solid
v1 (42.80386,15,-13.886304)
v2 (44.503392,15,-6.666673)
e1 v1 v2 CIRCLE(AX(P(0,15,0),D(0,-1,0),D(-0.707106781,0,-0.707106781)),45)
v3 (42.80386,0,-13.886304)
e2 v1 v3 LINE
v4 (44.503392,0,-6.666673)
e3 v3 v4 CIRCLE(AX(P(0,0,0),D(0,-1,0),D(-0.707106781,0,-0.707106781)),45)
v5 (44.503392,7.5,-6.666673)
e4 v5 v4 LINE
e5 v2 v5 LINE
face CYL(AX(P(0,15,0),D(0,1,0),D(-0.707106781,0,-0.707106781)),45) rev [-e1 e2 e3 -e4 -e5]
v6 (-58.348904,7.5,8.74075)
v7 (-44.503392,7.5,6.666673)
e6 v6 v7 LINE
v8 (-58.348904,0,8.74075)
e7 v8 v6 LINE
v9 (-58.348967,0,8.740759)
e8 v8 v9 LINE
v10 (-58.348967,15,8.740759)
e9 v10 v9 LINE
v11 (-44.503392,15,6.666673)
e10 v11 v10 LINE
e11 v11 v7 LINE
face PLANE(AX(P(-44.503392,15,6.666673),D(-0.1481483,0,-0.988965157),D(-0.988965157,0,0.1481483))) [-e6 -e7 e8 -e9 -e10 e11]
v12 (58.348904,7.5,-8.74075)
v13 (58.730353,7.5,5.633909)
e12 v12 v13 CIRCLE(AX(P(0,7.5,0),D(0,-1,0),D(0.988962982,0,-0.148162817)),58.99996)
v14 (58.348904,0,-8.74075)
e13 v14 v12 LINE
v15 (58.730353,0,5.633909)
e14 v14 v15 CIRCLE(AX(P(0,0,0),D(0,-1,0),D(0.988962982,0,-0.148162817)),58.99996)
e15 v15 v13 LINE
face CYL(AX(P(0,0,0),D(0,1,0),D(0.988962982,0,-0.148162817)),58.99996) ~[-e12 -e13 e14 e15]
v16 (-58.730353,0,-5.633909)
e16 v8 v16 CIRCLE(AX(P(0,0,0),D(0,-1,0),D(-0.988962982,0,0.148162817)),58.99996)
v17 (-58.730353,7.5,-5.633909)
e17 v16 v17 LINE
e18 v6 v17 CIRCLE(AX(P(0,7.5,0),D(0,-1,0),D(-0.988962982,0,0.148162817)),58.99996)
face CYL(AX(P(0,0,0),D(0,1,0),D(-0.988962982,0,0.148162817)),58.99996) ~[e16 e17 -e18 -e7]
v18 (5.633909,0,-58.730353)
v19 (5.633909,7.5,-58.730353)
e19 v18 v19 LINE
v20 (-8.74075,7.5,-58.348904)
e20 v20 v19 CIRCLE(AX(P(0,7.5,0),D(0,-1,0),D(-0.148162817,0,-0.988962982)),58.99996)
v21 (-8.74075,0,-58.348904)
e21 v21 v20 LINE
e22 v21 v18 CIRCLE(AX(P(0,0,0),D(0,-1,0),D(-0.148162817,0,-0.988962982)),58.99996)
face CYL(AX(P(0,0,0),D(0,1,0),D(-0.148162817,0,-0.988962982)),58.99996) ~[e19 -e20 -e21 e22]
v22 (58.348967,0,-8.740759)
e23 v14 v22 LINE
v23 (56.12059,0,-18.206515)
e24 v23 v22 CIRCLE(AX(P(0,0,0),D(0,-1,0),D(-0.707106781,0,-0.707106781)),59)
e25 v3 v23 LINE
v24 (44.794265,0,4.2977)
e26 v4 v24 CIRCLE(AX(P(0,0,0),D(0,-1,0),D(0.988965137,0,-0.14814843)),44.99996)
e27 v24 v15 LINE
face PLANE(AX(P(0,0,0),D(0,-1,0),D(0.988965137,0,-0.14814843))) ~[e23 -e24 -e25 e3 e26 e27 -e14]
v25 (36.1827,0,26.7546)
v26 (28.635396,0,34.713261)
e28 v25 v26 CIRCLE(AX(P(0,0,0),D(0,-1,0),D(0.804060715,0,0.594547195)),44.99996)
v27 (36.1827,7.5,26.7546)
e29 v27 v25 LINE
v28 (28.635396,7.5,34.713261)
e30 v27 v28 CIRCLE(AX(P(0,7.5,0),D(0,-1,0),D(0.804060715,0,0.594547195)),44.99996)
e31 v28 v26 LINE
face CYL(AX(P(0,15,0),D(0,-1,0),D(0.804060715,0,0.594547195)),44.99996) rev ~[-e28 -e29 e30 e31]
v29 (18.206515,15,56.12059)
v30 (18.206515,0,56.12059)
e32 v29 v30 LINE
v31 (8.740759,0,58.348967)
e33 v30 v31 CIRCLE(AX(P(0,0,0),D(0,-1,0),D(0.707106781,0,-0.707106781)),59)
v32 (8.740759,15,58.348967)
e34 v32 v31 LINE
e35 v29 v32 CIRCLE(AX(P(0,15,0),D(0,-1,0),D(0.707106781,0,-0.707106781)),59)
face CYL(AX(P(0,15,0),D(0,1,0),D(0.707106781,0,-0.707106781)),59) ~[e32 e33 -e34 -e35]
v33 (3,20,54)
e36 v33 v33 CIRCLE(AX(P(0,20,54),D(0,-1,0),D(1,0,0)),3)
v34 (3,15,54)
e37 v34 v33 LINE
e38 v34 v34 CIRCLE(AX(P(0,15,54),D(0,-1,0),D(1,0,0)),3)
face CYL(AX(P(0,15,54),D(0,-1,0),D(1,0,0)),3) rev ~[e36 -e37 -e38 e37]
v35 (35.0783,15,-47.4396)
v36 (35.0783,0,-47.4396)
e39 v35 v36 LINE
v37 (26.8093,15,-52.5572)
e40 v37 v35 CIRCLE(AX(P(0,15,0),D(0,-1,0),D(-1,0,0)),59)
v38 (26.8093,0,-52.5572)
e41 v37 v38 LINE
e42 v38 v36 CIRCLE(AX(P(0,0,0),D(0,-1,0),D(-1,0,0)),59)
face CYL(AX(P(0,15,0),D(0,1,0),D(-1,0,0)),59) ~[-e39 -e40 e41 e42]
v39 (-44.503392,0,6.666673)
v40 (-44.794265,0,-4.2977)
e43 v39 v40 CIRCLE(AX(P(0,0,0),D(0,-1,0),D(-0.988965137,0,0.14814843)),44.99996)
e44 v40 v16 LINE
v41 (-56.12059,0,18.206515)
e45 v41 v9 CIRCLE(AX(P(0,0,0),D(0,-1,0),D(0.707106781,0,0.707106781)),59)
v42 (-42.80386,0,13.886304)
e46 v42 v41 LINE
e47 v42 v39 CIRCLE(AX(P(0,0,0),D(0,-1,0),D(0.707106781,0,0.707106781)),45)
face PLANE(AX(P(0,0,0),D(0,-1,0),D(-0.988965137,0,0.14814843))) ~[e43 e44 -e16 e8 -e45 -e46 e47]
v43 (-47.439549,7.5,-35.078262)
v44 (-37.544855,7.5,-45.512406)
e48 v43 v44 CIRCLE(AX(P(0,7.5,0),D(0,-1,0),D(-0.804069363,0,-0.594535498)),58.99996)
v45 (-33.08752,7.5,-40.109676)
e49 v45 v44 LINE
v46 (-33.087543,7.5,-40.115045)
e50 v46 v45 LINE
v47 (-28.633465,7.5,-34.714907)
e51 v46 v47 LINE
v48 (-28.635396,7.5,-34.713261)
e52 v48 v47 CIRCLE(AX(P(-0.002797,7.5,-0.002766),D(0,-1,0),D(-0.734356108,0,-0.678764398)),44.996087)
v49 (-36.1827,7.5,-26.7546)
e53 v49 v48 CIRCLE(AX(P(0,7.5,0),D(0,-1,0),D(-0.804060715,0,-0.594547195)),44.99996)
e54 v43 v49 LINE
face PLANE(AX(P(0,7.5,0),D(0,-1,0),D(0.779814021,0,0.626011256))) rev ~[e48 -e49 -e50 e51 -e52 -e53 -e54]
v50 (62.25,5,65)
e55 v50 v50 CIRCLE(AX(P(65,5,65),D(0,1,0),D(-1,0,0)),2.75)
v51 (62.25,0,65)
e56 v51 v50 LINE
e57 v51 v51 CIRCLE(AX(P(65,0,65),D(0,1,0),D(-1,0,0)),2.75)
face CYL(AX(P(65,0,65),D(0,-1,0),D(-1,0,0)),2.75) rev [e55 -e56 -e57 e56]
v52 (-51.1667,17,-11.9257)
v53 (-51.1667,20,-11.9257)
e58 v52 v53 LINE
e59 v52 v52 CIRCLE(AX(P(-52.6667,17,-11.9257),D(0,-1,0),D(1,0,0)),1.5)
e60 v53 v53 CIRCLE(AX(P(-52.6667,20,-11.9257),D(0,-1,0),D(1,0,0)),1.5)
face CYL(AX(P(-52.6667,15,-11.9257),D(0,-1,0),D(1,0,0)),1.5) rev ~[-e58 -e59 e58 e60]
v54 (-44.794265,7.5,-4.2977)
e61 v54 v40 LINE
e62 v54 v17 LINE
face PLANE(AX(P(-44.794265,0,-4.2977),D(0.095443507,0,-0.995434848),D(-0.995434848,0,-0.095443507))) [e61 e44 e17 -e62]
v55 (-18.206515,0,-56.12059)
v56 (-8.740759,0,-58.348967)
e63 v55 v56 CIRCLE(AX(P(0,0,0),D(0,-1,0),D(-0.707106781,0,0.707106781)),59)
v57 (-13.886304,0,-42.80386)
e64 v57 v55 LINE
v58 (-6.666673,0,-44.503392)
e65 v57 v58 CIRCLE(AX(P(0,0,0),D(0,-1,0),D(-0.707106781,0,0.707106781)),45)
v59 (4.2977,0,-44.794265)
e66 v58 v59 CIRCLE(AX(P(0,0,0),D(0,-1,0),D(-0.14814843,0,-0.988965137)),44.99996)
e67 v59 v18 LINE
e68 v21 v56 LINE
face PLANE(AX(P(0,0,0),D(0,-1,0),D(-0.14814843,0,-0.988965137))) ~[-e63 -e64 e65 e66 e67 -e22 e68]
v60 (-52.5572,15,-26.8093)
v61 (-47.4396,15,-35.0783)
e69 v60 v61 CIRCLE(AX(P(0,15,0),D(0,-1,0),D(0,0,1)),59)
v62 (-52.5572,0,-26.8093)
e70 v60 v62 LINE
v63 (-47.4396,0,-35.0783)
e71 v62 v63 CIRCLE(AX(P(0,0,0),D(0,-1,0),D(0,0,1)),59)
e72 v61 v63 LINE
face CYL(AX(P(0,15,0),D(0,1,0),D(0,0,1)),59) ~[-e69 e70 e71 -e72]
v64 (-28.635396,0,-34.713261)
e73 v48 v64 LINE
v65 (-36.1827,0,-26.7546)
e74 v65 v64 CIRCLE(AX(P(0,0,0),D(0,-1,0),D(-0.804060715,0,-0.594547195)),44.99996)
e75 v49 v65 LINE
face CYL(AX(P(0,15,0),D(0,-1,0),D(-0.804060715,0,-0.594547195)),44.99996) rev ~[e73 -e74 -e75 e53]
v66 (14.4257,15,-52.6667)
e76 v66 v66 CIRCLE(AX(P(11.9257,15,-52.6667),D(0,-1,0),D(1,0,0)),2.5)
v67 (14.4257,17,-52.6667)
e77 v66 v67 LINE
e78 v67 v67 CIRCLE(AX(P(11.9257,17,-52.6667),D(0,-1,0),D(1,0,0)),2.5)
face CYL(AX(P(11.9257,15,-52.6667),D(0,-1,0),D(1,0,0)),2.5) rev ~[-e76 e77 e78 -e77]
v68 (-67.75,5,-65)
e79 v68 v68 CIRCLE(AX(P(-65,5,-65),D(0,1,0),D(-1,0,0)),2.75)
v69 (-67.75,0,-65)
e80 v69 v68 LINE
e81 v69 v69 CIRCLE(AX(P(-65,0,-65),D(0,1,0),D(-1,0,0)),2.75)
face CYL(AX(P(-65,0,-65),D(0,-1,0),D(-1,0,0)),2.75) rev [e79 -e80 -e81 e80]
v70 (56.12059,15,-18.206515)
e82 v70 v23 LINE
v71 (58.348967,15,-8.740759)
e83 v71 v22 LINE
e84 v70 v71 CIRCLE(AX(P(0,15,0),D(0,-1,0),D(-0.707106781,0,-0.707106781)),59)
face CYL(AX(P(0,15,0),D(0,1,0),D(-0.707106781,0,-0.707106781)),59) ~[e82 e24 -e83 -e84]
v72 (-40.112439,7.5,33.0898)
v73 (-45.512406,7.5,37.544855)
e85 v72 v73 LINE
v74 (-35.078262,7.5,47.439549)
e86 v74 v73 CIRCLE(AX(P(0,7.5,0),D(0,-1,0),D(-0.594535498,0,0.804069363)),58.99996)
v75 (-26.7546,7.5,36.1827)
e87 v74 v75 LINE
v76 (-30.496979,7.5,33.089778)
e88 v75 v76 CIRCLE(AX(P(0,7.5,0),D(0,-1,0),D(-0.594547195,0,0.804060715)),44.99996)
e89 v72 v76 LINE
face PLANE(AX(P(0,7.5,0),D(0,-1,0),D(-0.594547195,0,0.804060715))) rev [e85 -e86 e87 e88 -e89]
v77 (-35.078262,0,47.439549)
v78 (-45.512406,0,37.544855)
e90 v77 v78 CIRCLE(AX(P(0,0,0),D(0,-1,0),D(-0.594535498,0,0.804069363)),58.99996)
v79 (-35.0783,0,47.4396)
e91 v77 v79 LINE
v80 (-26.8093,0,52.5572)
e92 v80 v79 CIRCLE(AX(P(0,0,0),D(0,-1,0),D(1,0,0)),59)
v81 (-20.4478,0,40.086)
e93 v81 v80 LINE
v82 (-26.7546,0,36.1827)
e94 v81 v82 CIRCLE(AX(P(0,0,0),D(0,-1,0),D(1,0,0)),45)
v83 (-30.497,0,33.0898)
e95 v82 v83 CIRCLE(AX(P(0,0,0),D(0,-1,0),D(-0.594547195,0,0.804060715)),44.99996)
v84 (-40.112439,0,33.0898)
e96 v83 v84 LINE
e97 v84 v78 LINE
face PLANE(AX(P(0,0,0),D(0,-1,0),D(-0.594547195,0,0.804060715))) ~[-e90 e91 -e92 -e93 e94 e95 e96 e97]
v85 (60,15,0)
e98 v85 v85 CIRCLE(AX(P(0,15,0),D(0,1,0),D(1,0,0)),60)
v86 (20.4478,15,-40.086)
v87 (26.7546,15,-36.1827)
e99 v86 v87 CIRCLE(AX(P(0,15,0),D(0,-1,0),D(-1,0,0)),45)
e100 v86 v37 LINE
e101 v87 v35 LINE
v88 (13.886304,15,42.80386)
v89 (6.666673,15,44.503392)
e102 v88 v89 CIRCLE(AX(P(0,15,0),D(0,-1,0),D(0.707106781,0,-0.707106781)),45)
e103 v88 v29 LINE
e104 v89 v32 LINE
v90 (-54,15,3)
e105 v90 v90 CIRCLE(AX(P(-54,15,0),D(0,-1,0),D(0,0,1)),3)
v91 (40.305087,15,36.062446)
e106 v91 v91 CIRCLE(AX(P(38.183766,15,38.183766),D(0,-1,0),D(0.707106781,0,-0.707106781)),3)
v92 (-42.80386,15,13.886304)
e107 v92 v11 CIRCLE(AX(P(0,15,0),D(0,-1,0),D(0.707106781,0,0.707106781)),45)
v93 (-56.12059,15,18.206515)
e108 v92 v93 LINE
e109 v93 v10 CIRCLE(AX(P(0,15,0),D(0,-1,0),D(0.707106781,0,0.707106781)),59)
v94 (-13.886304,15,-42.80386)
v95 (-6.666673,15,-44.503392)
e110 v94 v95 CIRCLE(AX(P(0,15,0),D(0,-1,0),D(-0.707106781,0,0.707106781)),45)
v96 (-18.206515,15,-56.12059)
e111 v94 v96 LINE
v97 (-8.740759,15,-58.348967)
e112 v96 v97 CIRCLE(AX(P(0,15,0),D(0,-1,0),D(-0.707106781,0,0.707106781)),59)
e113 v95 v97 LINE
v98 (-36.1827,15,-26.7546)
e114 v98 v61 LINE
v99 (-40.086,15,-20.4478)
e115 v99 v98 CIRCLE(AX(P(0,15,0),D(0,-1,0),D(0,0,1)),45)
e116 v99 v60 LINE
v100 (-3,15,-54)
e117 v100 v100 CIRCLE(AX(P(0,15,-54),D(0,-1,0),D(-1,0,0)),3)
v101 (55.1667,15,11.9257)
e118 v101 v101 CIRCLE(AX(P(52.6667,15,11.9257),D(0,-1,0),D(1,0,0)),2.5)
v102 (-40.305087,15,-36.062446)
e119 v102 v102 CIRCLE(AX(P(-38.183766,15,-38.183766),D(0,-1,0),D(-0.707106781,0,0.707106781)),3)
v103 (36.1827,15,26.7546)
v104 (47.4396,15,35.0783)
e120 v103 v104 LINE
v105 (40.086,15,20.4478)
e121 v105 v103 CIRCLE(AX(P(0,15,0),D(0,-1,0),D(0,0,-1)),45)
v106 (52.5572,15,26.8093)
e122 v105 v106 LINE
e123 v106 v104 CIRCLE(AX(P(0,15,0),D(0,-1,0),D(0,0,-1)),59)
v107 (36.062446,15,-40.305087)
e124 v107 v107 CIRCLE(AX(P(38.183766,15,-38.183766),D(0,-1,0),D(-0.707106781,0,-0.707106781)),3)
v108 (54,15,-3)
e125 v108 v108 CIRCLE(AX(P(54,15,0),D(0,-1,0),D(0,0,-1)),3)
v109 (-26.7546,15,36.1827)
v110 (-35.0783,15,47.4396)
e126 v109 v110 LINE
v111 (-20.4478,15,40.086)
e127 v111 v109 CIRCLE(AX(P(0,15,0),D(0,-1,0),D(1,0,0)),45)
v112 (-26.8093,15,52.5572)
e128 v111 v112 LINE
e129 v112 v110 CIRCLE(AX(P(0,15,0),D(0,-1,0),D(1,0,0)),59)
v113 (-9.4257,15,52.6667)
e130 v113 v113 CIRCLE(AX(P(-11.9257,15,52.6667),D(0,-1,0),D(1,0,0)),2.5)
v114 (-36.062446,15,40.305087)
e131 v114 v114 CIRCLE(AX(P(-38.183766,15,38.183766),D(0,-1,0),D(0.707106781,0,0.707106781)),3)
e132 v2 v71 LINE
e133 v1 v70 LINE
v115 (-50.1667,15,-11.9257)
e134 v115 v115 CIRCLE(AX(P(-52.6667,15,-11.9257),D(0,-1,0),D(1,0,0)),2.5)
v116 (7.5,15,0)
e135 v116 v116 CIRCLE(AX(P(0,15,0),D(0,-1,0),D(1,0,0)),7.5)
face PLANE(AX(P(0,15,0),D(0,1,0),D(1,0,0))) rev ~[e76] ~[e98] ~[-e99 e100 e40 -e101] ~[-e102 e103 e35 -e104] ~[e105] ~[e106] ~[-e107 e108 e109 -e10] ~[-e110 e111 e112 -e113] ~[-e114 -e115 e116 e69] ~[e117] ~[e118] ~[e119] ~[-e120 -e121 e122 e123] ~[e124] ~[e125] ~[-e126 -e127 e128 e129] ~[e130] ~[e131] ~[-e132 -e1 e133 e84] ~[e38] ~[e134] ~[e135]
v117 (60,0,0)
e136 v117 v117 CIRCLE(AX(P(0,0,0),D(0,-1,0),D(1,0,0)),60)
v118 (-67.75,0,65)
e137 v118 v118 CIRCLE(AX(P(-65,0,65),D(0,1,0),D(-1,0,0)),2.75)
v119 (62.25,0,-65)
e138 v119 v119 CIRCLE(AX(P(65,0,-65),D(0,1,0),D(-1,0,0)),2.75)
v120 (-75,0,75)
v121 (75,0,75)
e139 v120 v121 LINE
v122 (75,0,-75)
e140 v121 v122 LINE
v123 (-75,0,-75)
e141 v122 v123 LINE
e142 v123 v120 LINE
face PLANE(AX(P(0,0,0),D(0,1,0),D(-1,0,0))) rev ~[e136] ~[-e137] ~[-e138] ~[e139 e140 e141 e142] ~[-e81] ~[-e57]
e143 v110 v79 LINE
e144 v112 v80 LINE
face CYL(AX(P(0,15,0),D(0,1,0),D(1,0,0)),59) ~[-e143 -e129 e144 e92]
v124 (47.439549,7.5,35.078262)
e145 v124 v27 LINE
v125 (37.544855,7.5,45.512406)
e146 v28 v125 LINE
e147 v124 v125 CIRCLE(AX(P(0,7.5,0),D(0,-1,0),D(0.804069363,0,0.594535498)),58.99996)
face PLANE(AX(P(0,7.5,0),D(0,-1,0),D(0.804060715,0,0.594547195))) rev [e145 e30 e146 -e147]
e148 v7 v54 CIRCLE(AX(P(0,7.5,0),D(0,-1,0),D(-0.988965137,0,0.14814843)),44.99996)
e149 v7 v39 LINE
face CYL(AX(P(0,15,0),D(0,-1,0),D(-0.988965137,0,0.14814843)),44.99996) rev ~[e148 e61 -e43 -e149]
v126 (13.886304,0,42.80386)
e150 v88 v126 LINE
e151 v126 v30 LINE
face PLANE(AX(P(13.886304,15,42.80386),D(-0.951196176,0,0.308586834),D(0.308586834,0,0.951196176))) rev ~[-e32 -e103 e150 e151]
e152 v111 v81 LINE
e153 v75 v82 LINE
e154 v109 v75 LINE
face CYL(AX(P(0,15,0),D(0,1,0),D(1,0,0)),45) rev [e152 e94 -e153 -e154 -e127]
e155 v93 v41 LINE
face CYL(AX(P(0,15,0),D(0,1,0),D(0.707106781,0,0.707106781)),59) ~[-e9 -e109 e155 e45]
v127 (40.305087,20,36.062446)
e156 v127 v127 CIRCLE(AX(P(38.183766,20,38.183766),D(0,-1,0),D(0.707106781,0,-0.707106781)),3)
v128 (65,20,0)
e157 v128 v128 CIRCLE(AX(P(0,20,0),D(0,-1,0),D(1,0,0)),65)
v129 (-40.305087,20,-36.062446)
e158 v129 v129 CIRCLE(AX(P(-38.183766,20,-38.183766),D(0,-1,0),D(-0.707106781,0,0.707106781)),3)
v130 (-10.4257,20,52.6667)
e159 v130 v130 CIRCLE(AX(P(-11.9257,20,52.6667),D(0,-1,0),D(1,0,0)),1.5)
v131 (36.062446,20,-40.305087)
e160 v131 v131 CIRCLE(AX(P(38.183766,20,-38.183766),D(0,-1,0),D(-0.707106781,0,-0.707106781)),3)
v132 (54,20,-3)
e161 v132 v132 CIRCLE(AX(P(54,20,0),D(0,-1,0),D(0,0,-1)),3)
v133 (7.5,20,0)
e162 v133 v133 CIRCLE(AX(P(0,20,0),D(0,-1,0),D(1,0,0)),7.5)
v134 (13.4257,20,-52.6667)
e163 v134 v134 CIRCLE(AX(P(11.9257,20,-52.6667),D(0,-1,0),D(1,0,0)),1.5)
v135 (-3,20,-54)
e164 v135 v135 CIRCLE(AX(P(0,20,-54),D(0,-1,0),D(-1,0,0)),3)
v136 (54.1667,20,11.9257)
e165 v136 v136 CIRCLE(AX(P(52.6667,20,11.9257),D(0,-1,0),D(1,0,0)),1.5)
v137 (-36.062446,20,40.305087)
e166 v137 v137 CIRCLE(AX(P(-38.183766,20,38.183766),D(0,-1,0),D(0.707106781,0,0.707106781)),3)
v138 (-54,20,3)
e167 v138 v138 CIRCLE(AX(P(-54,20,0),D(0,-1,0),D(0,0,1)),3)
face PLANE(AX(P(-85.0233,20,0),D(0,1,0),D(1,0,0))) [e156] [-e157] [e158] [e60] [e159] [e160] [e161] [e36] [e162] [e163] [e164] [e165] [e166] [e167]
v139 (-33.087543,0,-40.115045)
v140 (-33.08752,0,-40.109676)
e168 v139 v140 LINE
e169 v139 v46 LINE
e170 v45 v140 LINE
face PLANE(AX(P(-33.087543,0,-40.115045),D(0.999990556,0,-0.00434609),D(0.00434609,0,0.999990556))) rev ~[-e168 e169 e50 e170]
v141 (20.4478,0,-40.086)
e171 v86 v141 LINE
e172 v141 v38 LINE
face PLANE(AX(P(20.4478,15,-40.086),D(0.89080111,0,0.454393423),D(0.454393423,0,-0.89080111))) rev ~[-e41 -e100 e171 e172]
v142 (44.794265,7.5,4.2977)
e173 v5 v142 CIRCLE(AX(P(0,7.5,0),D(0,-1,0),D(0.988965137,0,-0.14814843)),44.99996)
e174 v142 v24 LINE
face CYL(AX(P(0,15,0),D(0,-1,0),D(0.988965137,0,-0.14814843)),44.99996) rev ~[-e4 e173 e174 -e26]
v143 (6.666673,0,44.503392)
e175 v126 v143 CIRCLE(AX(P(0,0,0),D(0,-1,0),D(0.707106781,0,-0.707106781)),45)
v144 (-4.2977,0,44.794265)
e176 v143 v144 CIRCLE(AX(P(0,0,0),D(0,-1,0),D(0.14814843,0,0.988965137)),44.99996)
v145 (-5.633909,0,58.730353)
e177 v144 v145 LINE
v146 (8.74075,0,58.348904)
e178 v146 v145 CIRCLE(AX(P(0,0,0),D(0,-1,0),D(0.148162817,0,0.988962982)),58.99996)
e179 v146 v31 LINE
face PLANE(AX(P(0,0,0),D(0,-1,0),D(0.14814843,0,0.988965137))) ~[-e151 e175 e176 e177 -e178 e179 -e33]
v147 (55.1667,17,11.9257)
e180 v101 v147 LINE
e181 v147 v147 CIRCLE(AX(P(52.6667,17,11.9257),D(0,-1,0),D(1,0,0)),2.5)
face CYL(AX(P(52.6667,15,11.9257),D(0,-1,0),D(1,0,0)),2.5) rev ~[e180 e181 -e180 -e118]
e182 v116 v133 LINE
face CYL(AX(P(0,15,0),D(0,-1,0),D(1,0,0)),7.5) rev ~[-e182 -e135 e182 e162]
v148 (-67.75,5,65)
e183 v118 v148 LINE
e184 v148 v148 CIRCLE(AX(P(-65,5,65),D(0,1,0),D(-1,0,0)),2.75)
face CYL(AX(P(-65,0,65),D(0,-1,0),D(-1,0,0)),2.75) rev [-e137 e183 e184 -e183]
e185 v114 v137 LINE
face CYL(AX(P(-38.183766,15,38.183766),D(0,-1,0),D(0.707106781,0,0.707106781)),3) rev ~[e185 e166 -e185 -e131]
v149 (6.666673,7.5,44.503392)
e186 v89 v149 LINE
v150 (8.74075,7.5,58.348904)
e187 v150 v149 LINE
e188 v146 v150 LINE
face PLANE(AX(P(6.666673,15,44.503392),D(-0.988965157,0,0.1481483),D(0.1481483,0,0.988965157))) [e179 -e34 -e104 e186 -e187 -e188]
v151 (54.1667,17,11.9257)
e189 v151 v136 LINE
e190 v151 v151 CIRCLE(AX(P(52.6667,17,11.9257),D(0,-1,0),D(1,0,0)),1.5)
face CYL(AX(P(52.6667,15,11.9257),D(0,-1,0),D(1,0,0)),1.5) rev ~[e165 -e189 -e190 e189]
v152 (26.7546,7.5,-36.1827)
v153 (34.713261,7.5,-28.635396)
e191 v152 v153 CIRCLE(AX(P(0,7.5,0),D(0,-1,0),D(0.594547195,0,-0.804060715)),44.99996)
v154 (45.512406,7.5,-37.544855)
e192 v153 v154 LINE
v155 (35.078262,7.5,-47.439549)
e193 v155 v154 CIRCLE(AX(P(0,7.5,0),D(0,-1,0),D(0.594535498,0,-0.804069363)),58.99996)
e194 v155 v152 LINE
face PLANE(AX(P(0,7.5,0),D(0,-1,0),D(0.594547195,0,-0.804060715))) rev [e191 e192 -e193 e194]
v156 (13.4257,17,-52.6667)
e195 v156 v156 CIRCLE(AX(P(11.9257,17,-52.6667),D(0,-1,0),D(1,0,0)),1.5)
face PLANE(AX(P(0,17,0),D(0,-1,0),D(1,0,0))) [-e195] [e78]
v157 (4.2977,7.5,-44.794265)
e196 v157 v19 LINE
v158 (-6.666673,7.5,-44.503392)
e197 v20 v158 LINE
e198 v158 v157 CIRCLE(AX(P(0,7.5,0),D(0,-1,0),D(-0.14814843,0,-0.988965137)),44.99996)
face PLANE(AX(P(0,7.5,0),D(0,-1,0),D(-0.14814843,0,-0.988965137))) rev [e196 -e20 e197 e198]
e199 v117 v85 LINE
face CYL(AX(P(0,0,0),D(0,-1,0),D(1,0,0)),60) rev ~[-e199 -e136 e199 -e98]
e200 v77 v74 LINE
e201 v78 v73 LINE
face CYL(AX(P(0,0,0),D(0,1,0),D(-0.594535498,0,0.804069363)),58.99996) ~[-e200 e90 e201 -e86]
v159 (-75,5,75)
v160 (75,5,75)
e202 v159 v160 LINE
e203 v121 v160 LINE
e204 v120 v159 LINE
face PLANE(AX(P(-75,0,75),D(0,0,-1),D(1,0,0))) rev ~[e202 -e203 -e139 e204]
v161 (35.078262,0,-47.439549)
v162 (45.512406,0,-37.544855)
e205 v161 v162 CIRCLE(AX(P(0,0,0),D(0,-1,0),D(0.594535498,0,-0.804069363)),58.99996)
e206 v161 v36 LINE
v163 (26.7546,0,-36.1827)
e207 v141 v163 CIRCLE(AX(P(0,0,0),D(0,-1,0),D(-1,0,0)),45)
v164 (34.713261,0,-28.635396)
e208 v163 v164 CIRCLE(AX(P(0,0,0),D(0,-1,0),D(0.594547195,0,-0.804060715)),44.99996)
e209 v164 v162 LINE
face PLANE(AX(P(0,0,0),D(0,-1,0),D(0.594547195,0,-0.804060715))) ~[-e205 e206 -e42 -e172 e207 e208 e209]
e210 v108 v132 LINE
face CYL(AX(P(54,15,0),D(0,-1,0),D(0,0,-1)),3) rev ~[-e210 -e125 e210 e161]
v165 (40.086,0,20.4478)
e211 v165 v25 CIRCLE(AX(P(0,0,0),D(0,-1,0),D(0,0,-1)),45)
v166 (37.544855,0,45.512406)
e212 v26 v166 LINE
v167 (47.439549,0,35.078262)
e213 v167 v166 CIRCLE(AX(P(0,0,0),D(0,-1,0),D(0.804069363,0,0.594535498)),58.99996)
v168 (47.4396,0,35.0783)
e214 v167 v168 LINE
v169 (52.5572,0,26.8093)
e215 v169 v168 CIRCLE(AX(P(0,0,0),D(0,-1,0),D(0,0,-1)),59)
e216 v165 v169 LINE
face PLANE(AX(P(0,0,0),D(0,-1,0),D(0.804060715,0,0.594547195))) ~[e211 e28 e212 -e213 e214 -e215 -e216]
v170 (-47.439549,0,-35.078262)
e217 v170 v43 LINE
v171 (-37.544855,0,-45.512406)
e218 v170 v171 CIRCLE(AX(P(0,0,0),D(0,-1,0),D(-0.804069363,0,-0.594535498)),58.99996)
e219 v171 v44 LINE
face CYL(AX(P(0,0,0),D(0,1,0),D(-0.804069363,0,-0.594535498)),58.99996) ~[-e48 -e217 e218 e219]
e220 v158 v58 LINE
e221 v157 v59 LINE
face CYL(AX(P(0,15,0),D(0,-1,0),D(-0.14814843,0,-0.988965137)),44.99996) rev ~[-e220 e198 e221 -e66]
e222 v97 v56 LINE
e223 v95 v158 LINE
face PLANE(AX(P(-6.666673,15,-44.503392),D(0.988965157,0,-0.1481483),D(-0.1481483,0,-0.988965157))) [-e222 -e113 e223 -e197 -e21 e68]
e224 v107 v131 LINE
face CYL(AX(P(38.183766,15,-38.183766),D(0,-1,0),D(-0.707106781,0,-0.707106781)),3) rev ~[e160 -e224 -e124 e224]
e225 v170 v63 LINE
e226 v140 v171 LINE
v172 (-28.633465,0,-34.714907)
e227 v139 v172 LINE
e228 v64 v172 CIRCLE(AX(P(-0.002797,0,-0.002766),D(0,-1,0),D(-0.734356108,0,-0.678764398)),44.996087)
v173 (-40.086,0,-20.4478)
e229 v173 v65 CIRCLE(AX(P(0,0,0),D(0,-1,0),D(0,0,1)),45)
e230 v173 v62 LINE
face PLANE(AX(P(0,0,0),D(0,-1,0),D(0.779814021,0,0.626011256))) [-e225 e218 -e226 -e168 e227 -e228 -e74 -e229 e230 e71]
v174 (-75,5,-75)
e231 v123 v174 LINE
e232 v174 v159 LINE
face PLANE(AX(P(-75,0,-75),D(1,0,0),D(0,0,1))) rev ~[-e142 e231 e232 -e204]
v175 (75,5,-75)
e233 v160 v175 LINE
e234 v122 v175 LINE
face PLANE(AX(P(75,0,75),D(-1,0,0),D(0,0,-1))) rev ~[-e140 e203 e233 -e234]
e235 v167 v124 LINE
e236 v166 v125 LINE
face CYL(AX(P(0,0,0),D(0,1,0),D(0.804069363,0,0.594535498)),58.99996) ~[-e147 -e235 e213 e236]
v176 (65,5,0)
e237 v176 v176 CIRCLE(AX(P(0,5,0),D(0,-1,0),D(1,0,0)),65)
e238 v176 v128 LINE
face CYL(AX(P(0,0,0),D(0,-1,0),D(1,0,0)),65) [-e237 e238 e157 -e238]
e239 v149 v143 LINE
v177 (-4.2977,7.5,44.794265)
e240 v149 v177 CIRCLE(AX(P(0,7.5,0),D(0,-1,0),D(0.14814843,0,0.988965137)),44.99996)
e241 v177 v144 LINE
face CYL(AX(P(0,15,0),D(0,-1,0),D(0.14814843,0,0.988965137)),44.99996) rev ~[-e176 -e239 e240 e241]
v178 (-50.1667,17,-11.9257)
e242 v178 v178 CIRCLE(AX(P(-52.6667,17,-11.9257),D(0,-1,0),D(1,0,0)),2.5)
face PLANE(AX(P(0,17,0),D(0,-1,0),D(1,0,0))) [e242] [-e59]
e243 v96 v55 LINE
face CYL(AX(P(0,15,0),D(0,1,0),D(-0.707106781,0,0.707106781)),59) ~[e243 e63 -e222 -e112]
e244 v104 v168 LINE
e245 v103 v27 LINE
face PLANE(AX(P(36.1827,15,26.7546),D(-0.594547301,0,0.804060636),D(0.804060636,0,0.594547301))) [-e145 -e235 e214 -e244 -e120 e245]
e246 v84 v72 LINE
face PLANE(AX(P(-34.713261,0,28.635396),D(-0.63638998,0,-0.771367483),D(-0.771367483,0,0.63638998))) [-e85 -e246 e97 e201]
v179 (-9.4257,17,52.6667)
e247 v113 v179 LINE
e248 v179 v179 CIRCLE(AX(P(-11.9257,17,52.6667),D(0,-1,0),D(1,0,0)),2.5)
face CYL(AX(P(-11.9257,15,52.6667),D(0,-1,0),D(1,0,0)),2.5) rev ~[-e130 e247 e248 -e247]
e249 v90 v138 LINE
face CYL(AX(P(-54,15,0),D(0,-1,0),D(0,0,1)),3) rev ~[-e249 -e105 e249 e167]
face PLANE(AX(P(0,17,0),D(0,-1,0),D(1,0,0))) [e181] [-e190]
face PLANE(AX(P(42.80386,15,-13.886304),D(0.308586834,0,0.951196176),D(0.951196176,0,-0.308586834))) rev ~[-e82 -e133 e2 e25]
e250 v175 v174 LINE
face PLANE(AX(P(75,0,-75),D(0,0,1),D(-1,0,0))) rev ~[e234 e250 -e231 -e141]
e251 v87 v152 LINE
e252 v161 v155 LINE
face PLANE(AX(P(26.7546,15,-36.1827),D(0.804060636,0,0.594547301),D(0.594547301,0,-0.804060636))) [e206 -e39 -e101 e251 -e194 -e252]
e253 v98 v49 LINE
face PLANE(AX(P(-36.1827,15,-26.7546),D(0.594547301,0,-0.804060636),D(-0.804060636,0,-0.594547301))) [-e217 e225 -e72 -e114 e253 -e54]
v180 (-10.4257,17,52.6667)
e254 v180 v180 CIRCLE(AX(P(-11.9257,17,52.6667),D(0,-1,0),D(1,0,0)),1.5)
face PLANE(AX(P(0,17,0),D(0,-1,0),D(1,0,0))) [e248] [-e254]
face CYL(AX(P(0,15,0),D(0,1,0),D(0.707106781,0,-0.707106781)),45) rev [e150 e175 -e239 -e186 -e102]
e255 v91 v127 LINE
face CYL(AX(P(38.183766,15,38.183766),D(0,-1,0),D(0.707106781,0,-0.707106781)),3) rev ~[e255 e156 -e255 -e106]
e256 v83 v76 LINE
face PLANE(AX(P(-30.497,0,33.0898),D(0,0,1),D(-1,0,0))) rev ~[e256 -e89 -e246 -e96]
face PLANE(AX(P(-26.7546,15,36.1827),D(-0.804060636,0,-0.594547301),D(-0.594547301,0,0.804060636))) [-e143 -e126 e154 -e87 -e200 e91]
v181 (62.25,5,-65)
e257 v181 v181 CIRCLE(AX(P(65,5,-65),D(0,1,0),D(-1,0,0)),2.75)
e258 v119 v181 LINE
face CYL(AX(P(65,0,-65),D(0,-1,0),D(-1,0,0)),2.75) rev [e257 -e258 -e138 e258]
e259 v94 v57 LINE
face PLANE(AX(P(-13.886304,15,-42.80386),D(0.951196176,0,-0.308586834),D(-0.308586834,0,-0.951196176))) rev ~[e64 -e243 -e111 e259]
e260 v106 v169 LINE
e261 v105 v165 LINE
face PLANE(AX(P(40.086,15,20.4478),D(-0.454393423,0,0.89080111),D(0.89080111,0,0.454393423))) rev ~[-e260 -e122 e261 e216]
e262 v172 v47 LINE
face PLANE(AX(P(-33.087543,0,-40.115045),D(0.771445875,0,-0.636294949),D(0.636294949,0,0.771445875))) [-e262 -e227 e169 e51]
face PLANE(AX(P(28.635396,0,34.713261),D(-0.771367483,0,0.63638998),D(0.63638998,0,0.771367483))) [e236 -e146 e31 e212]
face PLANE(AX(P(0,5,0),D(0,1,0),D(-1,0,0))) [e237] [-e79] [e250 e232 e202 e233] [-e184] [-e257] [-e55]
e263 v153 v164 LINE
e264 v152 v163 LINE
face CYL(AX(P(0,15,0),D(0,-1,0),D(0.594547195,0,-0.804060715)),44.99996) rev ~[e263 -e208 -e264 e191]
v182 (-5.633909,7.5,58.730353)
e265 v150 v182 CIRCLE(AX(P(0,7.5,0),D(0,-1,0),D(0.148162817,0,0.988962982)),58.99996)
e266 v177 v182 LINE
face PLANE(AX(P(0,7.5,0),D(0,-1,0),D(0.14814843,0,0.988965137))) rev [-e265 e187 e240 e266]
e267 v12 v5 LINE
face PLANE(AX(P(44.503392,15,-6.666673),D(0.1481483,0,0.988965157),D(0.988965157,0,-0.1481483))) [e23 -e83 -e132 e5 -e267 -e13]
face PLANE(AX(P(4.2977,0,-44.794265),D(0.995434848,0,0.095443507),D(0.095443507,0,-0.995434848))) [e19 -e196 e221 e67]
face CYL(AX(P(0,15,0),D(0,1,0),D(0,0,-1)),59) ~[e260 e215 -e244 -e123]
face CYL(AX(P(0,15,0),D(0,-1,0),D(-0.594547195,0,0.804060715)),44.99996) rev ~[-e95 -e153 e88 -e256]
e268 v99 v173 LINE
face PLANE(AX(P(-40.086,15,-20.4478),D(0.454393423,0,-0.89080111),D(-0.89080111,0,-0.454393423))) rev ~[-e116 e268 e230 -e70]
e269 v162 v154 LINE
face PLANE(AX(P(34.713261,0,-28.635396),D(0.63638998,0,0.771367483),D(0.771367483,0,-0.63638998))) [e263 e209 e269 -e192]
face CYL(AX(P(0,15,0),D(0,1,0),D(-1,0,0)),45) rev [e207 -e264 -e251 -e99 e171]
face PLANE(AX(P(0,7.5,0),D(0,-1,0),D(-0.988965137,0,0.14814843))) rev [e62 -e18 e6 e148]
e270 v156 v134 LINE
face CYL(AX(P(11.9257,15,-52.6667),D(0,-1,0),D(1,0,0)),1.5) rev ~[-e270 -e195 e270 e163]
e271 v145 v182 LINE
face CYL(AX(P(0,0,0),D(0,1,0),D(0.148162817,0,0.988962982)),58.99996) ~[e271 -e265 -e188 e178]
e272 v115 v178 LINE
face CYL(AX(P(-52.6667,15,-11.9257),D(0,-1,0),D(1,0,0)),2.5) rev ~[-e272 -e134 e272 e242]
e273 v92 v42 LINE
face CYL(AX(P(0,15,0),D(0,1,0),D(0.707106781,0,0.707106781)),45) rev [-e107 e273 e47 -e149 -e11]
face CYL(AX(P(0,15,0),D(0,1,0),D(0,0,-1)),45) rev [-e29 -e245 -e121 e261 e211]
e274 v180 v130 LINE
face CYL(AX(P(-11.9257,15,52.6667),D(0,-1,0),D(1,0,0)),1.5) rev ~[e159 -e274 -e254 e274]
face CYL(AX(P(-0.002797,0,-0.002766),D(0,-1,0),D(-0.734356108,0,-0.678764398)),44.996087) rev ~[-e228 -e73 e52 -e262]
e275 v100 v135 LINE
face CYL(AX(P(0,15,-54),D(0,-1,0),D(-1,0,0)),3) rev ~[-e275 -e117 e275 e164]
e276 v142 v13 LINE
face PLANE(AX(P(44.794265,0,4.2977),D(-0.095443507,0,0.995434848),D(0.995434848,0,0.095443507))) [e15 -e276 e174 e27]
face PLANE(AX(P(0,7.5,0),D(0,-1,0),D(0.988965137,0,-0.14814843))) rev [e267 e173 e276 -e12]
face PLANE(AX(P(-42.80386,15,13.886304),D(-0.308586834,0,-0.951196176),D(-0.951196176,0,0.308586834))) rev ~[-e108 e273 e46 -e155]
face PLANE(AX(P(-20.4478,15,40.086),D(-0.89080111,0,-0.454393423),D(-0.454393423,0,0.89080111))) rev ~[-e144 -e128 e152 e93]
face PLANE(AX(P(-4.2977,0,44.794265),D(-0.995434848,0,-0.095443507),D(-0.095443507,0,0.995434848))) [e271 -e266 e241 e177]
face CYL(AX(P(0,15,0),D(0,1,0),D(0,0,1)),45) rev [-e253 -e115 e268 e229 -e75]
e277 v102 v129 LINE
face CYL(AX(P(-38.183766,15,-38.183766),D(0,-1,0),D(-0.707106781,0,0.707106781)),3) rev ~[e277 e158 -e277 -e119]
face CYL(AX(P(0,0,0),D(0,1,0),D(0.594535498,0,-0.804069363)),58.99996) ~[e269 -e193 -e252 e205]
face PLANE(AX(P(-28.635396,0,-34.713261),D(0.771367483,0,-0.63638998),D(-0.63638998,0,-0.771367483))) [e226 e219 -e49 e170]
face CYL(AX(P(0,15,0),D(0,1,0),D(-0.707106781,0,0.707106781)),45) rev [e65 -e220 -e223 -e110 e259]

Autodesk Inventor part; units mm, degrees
ref_plane "YZ Plane" through (0, 0, 0) normal (1, 0, 0) x (0, 1, 0)
ref_plane "XZ Plane" through (0, 0, 0) normal (0, 1, 0) x (-1, 0, 0)
ref_plane "XY Plane" through (0, 0, 0) normal (0, 0, 1) x (1, 0, 0)
sketch "Sketch1" plane through (0, 0, 0) normal (0, 1, 0) x (-1, 0, 0)
  line L0 (75, 75) -> (-75, 75)
  line L1 (-75, 75) -> (-75, -75)
  line L2 (-75, -75) -> (75, -75)
  line L3 (75, -75) -> (75, 75)
  circle A0 centre (0, 0) radius 35
  circle A1 centre (65, 65) radius 2.75
  circle A2 centre (-65, 65) radius 2.75
  circle A3 centre (-65, -65) radius 2.75
  circle A4 centre (65, -65) radius 2.75
  point P0 (75, 0)
  point P1 (0, -75)
  dimension "d0" = 150
  dimension "d1" = 150
  dimension "d2" = 70
  dimension "d3" = 5.5
  dimension "d4" = 10
  dimension "d5" = 10
  dimension "d8" = 360
extrude "Extrusion1" add sketch "Sketch1" along normal blind 5
sketch "Sketch2" plane through (0, 0, 0) normal (0, -1, 0) x (1, 0, 0)
  circle A0 centre (0, 0) radius 65
  dimension "d12" = 130
extrude "Extrusion2" cut sketch "Sketch2" against normal blind 10
sketch "Sketch3" plane through (0, 0, 0) normal (0, -1, 0) x (1, 0, 0)
  circle A0 centre (0, 0) radius 65
  circle A1 centre (0, 0) radius 60
  dimension "d15" = 130
  dimension "d16" = 120
extrude "Extrusion3" add sketch "Sketch3" against normal blind 20
sketch "Sketch4" plane through (0, 20, 0) normal (0, 1, 0) x (1, 0, 0)
  circle A0 centre (0, 0) radius 60
  point P0 (0, 0)
  dimension "d42" = 120
extrude "Extrusion4" add sketch "Sketch4" against normal blind 5
sketch "Sketch5" plane through (0, 15, 0) normal (0, -1, 0) x (1, 0, 0)
  circle A0 centre (0, 54) radius 3
  point P0 (0, 0)
  dimension "d21" = 6
  dimension "d22" = 54
extrude "Extrusion5" cut sketch "Sketch5" against normal through all
pattern_circular "Circular Pattern1" count 8 over 360 about axis through (0, 0, 0) along (0, 1, 0) of "Extrusion5"
sketch "Sketch6" plane through (0, 15, 0) normal (0, -1, 0) x (1, 0, 0)
  circle A0 centre (0, 0) radius 7.5
  point P0 (0, 0)
  dimension "d28" = 15
extrude "Extrusion6" cut sketch "Sketch6" against normal blind 10
sketch "Sketch7" plane through (0, 15, 0) normal (0, -1, 0) x (1, 0, 0)
  circle A0 centre (0, 0) radius 45
  circle A1 centre (0, 0) radius 60 projected
  line L0 (0, 0) -> (-26.7546, 36.1827) construction
  circle A2 centre (-38.1838, 38.1838) radius 3 projected
  line L1 (0, 0) -> (-20.4478, 40.086) construction
  circle A3 centre (0, 0) radius 59
  line L2 (-20.4478, 40.086) -> (-26.8093, 52.5572)
  line L3 (-26.7546, 36.1827) -> (-35.0783, 47.4396)
  point P0 (-38.3158, 46.1725)
  point P1 (-27.2637, 53.448)
  dimension "d31" = 15
  dimension "d43" = 120
  dimension "d44" = 118
  dimension "d45" = 14
  dimension "d66" = 8
  dimension "d67" = 170.546
extrude "Extrusion7" add sketch "Sketch7" along normal blind 15 contours A0 L3 A3 L2 picked at (-30.7402, 44.7782)
sketch "Sketch9" plane through (0, 0, 0) normal (0, -1, 0) x (1, 0, 0)
  circle A0 centre (0, 0) radius 29.9834
  circle A1 centre (0, 0) radius 39.9778
  line L0 (0, 0) -> (-26.8767, 13.2908) construction
  line L1 (-35.8356, 17.721) -> (-26.8767, 13.2908)
  point P0 (0, 0)
sketch "Sketch10" plane through (-26.7546, 0, 36.1827) normal (-0.8041, 0, -0.5945) x (-0.5945, 0, 0.8041)
  line L0 (0, 0) -> (14, 0)
  line L1 (14, 0) -> (14, 7.5)
  line L2 (14, 15) -> (14, 0) projected
  line L3 (0, 15) -> (0, 0) projected
  line L4 (0, 7.5) -> (14, 7.5)
  line L5 (0, 15) -> (14, 15)
  line L6 (-45, -4) -> (-45, 24) projected
  point P0 (-45, 0)
  dimension "d46" = 7.5
revolve "Revolution2" add sketch "Sketch10" angle 14 about axis through (0, 0, 0) along (0, -1, 0) contours L3 L4 L1 L0
sketch "Sketch11" plane through (0, 0, 0) normal (0, -1, 0) x (1, 0, 0)
  line L0 (-34.7133, 28.6354) -> (-45.513, 37.5442) projected
  arc A0 (-20.4478, 40.086) -> (-20.4478, 40.086) centre (0, 0) ccw projected
  line L1 (-40.1131, 33.0898) -> (-34.7133, 28.6354)
  line L2 (-30.497, 33.0898) -> (-40.1131, 33.0898)
  line L3 (-30.497, 33.0898) -> (-34.7133, 28.6354)
  point P0 (0, 0)
pattern_circular "Circular Pattern2" count 8 over 360 about axis through (0, 0, 0) along (0, 1, 0) of "Extrusion7", "Revolution2"
sketch "Sketch12" plane through (0, 0, 0) normal (0, -1, 0) x (0.7798, 0, 0.626)
  line L0 (-50.9146, -10.5691) -> (-44.0607, -9.1463)
  line L1 (-44.0607, -9.1463) -> (-57.7685, -11.9919) projected
  arc A0 (-44.8909, -3.1319) -> (-44.0607, -9.1463) centre (0, 0) ccw
  arc A1 (-44.0607, 9.1463) -> (-44.0607, 9.1463) centre (0, 0) ccw projected
  line L2 (-50.9146, -10.5691) -> (-44.8909, -3.1319)
  line L3 (-50.9146, -10.5691) -> (-44.8909, -3.1319) projected
  point P0 (0, 0)
extrude "Extrusion9" add sketch "Sketch12" against normal up to surface (7.5 mm away) contours L2 A0 L0
sketch "Sketch13" plane through (0, 20, 0) normal (0, 1, 0) x (1, 0, 0)
  circle A0 centre (0, 0) radius 65
  circle A1 centre (0, 0) radius 61
  dimension "d52" = 4
  dimension "d53" = 130
extrude "Extrusion10" add sketch "Sketch13" along normal blind 13
sketch "Sketch17" plane through (0, 0, 0) normal (0, 0, 1) x (1, 0, 0)
  line L0 (61, 20) -> (-61, 20) projected
  line L1 (61.0173, 20) -> (-61, 20)
  line L2 (-61, 20) -> (-61, 51.3289)
  line L3 (-61, 51.3289) -> (61.0173, 51.3289)
  line L4 (61.0173, 51.3289) -> (61.0173, 20)
  point P0 (0, 0)
extrude "Extrusion13" cut sketch "Sketch17" along normal through all both and the other way through all
sketch "Sketch14" plane through (0, 33, 0) normal (0, 1, 0) x (1, 0, 0)
  circle A0 centre (0, 0) radius 65
extrude "Extrusion11" add sketch "Sketch14" along normal blind 5
sketch "Sketch18" plane through (0, 20, 0) normal (0, 1, 0) x (1, 0, 0)
  point P0 (0, 0)
sketch "Sketch19" plane through (0, 33, 0) normal (0, -1, 0) x (1, 0, 0)
  circle A0 centre (0, 0) radius 6
  dimension "d63" = 12
extrude "Extrusion14" add sketch "Sketch19" along normal blind 2
sketch "Sketch20" plane through (0, 15, 0) normal (0, -1, 0) x (1, 0, 0)
  circle A0 centre (-38.1838, 38.1838) radius 3
  circle A1 centre (-38.1838, 38.1838) radius 3 projected
  point P0 (0, 0)
  dimension "d68" = 6
extrude "Extrusion15" cut sketch "Sketch20" against normal through all
pattern_circular "Circular Pattern3" count 8 over 360 about axis through (0, 0, 0) along (0, 1, 0) of "Extrusion15"
extrude "Extrusion16" cut sketch "Sketch11" against normal blind 10 contours L0 L2 A0 | A0 L3 picked at (-32.8621, 30.6363)
sketch "Sketch21" plane through (0, 0, 0) normal (0, 0, 1) x (1, 0, 0)
  line L0 (79.7641, 55.8787) -> (-85.0233, 55.8787)
  line L1 (-85.0233, 55.8787) -> (-85.0233, 20)
  line L2 (-85.0233, 20) -> (79.7641, 20)
  line L3 (79.7641, 20) -> (79.7641, 55.8787)
  point P0 (0, 0)
extrude "Extrusion17" cut sketch "Sketch21" along normal through all both and the other way through all
sketch "Sketch23" plane through (0, 15, 0) normal (0, -1, 0) x (1, 0, 0)
  circle A0 centre (-52.6667, -11.9257) radius 1.5
  circle A1 centre (11.9257, -52.6667) radius 1.5
  circle A2 centre (52.6667, 11.9257) radius 1.5
  circle A3 centre (-11.9257, 52.6667) radius 1.5
  circle A4 centre (54, 0) radius 3 projected
  point P0 (0, 0)
  dimension "d79" = 3
  dimension "d82" = 360
  dimension "d93" = 12
  dimension "d94" = 54
extrude "Extrusion18" cut sketch "Sketch23" against normal through all contours A0 | A1 | A2 | A3
sketch "Sketch24" plane through (0, 15, 0) normal (0, -1, 0) x (1, 0, 0)
  circle A0 centre (52.6667, 11.9257) radius 2.5
  circle A1 centre (52.6667, 11.9257) radius 1.5 projected
  circle A2 centre (-11.9257, 52.6667) radius 2.5
  circle A3 centre (-52.6667, -11.9257) radius 2.5
  circle A4 centre (11.9257, -52.6667) radius 2.5
  point P0 (0, 0)
  dimension "d86" = 5
  dimension "d89" = 360
extrude "Extrusion19" cut sketch "Sketch24" against normal blind 2
properties part number "bayonet container 8"
